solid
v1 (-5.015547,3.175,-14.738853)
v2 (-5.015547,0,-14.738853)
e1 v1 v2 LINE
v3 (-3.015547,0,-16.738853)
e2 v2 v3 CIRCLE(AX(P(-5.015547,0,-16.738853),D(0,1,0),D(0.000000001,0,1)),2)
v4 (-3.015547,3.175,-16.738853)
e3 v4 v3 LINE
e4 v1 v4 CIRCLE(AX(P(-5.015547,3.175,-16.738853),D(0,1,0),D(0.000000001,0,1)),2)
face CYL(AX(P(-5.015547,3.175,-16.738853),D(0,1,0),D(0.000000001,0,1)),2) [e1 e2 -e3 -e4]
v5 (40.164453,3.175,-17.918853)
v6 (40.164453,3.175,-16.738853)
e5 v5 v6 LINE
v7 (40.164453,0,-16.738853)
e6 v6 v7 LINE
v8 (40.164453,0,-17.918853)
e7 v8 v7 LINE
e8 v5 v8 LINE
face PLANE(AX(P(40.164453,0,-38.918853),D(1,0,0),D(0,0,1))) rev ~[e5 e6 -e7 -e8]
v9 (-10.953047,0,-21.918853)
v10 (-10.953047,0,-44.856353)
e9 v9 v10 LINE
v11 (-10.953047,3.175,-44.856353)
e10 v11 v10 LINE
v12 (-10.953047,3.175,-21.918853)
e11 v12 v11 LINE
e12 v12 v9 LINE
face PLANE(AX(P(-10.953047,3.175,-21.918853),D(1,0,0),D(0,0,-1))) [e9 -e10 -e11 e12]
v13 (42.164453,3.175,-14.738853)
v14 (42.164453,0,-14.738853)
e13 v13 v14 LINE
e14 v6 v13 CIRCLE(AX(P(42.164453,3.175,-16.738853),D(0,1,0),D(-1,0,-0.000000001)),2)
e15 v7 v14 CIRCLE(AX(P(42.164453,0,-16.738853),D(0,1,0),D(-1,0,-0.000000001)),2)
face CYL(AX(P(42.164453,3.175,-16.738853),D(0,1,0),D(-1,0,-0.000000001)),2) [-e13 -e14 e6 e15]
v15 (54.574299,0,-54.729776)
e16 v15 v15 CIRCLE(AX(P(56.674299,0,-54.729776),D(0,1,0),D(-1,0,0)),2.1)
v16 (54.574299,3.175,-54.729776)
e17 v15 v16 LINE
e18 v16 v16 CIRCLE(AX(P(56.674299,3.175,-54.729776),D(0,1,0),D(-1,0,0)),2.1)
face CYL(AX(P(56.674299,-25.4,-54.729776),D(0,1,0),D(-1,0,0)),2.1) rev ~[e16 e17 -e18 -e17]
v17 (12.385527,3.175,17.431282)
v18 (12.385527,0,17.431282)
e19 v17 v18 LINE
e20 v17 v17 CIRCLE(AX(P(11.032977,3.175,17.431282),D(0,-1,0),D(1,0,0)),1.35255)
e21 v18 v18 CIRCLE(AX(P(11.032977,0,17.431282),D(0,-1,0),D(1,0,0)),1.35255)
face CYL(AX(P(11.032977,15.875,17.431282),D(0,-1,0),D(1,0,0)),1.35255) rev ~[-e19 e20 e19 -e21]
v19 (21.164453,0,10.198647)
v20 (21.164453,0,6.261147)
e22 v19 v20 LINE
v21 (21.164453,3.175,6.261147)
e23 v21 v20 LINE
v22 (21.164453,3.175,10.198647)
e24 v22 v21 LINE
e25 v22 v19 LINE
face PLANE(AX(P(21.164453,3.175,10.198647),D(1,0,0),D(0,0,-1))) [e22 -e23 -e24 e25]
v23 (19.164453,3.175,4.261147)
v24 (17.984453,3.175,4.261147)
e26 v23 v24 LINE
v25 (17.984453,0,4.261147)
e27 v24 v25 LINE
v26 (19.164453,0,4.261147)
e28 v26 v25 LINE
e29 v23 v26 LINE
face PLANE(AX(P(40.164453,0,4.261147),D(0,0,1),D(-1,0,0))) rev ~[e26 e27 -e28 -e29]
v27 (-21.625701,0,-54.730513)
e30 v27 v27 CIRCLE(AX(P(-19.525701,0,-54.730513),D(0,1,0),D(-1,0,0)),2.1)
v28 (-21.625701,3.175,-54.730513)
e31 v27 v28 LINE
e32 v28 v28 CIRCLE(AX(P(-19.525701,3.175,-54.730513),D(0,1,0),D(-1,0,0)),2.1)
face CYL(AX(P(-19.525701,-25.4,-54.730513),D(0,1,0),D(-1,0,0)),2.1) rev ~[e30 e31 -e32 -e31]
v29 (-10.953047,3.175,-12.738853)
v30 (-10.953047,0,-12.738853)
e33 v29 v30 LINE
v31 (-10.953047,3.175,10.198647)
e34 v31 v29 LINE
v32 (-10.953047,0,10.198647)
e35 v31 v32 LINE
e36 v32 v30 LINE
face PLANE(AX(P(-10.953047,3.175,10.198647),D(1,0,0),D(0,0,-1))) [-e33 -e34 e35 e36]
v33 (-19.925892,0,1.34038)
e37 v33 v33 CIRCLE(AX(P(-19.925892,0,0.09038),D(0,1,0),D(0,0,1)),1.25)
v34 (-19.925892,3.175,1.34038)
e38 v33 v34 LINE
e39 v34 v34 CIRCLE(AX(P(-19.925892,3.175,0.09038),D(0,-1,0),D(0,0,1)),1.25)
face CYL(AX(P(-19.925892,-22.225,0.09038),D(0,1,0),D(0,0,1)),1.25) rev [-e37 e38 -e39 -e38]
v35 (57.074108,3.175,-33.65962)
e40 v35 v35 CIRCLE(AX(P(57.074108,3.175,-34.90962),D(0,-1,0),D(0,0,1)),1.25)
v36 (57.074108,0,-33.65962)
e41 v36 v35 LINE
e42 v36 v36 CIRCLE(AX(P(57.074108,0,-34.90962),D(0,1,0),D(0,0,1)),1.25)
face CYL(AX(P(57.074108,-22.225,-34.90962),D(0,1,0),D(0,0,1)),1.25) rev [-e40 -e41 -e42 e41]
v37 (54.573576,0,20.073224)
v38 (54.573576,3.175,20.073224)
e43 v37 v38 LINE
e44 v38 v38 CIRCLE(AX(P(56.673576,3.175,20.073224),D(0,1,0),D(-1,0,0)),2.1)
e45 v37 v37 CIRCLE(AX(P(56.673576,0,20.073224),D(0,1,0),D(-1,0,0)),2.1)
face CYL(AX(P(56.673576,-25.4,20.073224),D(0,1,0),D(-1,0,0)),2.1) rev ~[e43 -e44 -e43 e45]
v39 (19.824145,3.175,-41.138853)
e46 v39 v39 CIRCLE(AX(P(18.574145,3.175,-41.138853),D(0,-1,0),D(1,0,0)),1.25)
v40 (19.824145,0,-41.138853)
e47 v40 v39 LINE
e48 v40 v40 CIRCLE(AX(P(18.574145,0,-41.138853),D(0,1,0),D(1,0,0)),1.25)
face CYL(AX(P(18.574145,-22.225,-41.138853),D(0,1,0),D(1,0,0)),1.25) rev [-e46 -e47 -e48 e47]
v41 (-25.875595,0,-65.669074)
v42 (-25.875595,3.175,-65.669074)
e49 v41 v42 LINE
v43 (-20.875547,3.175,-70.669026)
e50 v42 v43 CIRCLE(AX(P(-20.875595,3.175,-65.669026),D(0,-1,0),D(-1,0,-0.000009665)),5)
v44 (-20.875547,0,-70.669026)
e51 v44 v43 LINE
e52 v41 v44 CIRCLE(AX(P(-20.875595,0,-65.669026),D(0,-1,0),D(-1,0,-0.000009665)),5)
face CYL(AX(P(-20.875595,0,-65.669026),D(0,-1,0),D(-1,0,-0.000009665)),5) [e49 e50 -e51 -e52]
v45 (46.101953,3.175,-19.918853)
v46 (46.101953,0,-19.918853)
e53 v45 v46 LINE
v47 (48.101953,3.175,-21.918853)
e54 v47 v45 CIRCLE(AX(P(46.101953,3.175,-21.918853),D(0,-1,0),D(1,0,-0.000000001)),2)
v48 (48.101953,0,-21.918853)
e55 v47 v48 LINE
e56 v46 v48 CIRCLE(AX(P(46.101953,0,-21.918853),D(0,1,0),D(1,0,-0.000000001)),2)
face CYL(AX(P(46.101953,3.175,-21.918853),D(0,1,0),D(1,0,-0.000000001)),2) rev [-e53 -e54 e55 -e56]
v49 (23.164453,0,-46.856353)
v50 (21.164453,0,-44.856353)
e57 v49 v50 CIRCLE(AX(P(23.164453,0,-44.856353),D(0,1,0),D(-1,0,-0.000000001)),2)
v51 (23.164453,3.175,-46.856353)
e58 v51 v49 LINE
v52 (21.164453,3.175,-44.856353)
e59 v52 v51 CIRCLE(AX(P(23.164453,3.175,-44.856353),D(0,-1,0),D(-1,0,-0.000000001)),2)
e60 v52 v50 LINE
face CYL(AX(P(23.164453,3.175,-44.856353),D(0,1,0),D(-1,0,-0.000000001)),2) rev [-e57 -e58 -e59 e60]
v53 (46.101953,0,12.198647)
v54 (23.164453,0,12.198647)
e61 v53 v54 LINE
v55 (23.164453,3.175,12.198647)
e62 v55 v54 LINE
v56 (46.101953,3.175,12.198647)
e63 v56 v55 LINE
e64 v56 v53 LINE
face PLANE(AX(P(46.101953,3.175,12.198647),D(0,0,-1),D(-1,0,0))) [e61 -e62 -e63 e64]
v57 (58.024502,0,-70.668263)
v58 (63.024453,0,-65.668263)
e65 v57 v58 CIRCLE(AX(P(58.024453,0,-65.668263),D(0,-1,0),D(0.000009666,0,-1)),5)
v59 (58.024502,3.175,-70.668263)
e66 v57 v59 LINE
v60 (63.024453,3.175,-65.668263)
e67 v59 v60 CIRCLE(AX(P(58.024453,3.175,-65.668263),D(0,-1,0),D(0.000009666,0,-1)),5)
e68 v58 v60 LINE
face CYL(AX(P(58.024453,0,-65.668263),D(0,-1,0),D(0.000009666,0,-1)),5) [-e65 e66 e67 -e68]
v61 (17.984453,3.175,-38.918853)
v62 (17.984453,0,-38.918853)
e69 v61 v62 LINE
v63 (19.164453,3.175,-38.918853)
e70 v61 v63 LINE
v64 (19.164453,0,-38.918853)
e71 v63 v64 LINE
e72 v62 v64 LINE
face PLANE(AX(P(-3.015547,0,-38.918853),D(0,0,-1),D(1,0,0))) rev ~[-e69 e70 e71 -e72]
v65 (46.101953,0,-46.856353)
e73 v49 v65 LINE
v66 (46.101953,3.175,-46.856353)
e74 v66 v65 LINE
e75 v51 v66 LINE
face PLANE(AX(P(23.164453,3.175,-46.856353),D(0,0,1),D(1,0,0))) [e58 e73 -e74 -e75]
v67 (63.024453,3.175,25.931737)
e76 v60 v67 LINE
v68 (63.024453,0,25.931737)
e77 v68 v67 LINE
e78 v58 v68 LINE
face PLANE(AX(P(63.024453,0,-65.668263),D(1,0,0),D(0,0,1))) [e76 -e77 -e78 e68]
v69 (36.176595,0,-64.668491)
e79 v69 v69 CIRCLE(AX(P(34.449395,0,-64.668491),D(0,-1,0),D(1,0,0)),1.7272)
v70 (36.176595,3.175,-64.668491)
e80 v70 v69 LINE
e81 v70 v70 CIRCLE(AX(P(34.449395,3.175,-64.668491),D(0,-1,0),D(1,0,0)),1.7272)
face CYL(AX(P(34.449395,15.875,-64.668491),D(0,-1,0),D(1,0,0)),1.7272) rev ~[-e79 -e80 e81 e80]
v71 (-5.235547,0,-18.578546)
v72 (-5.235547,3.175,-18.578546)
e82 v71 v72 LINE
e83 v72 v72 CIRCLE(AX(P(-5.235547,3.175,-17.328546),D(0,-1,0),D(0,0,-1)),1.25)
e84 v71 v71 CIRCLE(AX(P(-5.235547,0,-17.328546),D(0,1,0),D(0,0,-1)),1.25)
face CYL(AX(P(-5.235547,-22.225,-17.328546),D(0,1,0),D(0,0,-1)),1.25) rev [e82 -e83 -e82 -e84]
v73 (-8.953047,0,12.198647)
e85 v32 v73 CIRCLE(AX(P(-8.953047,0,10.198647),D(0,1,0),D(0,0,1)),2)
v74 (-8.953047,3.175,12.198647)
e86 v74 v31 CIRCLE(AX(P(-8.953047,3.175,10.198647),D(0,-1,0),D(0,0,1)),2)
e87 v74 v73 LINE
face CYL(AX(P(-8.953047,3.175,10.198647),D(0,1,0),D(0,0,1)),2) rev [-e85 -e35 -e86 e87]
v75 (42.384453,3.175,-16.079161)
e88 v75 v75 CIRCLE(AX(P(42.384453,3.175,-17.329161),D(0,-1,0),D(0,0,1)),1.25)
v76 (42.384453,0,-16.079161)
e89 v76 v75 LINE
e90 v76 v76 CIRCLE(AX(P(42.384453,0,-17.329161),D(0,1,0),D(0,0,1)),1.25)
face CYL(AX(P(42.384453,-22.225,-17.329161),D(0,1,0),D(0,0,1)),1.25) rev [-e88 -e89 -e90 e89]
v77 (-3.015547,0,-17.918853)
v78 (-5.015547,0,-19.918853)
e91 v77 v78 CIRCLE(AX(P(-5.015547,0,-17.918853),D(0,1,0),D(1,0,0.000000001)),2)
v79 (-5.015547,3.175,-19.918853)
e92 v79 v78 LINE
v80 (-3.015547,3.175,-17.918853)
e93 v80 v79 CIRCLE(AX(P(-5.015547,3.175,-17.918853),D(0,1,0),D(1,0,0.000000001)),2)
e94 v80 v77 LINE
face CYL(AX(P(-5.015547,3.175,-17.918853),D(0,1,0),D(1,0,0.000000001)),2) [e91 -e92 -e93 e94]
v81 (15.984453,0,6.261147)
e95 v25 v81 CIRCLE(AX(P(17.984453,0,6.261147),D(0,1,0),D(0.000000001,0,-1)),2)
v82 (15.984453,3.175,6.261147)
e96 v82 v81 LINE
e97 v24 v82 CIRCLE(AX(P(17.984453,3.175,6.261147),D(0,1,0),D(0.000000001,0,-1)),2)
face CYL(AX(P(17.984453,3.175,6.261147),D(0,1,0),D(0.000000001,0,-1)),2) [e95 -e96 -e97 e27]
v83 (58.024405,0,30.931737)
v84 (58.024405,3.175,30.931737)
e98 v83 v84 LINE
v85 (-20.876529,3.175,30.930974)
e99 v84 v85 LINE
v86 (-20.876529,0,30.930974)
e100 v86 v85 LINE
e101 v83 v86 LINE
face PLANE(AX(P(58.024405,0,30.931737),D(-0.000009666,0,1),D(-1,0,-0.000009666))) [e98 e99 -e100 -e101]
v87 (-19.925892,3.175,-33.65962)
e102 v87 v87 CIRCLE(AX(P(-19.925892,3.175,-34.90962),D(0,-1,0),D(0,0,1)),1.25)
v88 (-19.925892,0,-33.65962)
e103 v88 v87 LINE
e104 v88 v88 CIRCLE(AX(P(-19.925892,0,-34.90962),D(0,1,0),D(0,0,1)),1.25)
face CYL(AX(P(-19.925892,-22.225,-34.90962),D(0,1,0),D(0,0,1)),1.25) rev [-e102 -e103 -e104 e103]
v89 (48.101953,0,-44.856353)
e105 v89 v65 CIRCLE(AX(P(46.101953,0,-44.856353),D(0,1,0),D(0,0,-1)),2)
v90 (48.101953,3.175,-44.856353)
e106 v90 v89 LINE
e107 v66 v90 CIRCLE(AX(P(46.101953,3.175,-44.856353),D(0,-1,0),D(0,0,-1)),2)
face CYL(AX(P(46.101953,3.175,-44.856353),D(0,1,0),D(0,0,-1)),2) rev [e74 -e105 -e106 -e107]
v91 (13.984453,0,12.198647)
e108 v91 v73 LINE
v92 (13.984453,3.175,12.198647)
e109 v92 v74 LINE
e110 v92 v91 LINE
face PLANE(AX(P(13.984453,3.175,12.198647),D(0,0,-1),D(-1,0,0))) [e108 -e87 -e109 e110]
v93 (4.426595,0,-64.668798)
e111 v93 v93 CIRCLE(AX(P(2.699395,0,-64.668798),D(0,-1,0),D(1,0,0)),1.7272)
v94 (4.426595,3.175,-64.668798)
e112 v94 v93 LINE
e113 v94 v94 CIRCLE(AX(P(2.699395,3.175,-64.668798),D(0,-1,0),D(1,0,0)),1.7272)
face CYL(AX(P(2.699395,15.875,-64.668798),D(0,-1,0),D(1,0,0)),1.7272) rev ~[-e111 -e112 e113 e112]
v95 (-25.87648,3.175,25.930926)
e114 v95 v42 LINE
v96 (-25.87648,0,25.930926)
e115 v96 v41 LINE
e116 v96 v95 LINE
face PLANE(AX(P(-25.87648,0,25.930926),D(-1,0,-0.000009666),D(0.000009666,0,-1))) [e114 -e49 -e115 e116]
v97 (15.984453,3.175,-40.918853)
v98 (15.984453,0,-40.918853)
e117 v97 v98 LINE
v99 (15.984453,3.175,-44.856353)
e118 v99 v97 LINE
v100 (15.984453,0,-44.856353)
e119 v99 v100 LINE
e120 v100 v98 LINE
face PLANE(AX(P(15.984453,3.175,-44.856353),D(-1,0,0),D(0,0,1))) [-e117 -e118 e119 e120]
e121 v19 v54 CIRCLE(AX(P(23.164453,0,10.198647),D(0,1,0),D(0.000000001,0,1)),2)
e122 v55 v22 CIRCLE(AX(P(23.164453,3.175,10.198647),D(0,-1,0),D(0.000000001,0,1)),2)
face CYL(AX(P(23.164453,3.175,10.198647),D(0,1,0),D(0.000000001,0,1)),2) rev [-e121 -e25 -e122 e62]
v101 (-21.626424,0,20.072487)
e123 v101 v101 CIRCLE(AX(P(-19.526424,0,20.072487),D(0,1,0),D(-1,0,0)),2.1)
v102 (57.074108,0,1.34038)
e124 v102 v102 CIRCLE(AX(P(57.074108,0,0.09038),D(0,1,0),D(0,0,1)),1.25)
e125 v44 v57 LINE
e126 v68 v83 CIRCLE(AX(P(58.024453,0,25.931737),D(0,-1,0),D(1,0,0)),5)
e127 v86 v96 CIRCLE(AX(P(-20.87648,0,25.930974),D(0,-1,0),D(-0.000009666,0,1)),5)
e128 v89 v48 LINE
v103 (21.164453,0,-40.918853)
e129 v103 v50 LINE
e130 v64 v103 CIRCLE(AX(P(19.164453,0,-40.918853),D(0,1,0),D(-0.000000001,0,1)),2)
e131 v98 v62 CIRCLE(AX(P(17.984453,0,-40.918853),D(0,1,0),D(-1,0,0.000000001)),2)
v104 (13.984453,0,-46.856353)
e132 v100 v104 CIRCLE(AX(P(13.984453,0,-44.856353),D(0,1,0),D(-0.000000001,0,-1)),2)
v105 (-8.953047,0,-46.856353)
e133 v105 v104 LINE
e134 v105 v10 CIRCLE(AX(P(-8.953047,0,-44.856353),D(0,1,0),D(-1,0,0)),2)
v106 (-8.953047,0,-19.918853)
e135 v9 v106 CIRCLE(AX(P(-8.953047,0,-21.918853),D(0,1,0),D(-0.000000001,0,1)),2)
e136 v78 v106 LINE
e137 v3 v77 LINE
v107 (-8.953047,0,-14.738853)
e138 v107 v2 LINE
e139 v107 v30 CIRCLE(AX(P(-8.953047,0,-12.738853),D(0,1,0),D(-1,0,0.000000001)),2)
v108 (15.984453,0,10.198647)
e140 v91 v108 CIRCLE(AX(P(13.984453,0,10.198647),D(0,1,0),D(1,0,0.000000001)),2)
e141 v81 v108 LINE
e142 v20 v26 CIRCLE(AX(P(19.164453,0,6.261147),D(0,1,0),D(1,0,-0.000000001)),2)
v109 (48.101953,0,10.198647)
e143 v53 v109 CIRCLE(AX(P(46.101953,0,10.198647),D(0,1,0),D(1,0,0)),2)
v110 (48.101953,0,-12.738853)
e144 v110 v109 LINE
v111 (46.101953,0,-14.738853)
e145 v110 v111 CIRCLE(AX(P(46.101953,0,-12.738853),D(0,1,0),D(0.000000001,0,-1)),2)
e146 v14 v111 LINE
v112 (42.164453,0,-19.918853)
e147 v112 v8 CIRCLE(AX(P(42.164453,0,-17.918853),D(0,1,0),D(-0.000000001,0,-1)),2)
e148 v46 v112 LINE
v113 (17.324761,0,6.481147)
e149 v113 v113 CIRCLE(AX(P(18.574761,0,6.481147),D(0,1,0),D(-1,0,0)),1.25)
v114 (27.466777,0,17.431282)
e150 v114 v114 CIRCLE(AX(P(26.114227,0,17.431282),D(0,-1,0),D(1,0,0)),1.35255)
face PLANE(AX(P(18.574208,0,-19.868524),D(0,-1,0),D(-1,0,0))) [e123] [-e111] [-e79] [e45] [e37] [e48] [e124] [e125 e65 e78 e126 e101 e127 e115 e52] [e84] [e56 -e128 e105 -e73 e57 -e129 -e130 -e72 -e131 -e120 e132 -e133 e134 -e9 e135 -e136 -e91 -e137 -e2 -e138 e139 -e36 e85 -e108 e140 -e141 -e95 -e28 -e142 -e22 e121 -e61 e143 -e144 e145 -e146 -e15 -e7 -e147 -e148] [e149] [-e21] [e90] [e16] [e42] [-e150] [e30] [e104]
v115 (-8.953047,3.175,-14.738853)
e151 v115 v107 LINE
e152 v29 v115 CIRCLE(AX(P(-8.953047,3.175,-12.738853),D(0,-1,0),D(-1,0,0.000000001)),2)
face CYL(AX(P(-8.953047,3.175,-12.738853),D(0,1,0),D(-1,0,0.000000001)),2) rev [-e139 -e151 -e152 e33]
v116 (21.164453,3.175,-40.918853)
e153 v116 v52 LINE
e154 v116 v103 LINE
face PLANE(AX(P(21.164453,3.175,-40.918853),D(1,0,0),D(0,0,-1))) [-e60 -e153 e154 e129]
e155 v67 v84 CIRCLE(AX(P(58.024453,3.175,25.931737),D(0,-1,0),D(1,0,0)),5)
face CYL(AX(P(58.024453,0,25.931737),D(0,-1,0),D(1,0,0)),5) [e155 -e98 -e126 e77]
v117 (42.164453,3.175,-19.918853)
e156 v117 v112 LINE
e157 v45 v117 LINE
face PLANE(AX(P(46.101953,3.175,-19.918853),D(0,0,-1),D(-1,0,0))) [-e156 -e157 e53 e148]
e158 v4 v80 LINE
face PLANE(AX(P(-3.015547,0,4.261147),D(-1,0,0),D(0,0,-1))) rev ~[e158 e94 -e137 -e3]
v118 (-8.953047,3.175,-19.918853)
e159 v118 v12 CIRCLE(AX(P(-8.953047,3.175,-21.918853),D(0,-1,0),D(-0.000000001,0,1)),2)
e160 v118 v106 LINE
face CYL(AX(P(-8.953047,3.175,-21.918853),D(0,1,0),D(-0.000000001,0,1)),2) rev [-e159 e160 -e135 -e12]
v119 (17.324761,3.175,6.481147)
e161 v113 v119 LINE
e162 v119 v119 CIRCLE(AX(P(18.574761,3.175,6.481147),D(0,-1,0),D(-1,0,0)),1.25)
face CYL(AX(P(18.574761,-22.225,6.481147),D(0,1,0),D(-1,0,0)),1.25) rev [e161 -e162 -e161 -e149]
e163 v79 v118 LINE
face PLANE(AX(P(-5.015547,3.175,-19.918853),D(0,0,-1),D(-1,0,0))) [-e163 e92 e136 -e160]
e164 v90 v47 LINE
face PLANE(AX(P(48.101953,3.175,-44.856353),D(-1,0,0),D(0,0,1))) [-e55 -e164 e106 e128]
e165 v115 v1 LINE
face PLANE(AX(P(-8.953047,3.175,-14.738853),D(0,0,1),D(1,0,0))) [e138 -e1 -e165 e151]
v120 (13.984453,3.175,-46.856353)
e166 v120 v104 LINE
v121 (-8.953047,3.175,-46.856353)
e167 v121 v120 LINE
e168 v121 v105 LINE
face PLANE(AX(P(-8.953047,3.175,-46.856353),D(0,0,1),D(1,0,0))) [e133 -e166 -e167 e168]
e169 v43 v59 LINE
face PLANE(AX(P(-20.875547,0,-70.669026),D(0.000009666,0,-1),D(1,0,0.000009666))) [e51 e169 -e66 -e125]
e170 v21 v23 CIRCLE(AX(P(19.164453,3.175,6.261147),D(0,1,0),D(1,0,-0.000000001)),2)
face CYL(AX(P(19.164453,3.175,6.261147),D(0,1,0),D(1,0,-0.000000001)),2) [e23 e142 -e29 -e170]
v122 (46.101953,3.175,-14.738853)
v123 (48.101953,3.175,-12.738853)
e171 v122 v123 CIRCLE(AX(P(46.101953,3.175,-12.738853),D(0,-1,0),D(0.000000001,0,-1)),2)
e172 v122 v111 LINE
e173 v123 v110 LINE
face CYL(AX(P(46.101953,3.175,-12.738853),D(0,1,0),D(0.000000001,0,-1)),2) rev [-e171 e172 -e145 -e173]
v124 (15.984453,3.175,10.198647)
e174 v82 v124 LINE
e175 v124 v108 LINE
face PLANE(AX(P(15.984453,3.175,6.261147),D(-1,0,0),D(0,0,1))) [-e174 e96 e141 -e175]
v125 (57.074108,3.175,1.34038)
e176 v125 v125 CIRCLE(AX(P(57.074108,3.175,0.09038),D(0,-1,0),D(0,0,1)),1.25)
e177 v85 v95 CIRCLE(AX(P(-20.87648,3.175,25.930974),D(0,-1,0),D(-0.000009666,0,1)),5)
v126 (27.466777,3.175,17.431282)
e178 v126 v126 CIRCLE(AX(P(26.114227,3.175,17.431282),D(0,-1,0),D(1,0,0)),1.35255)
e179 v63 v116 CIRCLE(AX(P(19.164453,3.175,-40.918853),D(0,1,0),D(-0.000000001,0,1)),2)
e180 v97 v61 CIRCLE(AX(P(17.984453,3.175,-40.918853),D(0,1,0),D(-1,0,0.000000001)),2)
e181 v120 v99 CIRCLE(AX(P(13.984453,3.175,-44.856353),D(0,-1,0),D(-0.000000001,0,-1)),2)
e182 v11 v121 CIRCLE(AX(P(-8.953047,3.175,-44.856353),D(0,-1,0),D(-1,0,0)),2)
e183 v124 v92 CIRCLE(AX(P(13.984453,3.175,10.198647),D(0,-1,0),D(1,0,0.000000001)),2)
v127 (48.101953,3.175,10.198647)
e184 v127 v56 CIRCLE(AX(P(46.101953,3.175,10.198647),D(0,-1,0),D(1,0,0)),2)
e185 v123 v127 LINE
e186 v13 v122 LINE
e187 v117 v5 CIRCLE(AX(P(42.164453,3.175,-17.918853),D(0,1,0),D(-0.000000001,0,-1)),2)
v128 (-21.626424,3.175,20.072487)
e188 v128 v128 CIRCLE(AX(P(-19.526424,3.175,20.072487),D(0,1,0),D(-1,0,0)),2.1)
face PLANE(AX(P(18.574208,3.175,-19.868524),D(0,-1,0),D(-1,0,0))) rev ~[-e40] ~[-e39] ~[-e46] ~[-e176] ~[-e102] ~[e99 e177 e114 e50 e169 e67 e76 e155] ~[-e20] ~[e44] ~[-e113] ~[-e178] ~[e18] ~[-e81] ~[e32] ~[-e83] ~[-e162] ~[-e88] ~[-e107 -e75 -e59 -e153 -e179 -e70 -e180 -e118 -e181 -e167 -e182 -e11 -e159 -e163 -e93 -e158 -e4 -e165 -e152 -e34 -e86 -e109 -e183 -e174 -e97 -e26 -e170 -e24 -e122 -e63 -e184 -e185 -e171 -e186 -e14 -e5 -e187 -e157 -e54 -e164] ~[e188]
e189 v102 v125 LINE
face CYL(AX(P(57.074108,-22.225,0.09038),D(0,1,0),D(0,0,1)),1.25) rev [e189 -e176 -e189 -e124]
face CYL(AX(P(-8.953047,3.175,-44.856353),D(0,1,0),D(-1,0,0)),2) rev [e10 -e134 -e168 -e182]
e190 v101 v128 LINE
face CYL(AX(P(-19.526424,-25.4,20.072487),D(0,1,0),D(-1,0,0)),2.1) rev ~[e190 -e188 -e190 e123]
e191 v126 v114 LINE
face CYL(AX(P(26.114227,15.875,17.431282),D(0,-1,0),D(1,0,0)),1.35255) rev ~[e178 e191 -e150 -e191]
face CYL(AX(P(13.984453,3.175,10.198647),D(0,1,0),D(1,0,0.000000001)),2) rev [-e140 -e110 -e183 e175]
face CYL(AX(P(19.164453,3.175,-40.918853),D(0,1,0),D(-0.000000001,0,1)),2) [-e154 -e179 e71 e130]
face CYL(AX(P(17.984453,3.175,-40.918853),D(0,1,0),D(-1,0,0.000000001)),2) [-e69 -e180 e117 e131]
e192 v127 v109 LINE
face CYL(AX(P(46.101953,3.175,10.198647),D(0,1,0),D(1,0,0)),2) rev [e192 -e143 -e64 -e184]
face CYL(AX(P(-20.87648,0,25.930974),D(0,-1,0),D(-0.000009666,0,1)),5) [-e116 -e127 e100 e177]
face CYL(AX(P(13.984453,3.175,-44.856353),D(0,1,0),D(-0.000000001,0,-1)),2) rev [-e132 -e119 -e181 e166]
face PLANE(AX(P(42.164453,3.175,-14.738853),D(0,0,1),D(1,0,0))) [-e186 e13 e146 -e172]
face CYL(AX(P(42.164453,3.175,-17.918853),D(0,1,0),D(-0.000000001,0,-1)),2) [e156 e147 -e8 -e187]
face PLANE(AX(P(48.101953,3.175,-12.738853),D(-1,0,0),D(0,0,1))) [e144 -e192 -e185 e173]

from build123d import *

# Parameters (mm, degrees)
ALUMINUM_PLATE_DEPTH            = 3.175
LPATTERN1_COUNT                 = 2
LPATTERN1_PITCH                 = 35
LPATTERN1_COUNT_DIR2            = 2
LPATTERN1_PITCH_DIR2            = 77
CIRPATTERN1_COUNT               = 4
TAP_DRILL_FOR_M5X0_8_TAP1_D     = 4.2
TAP_DRILL_FOR_M5X0_8_TAP1_DEPTH = 25.4
TAP_DRILL_FOR_M5X0_8_TAP1_TIP   = 1.2618073
TAP_DRILL_FOR_8_32_TAP1_D       = 3.4544
TAP_DRILL_FOR_8_32_TAP1_DEPTH   = 12.7
TAP_DRILL_FOR_8_32_TAP1_TIP     = 1.037806461
CUT_EXTRUDE1_REACH              = 96.743
CIRPATTERN3_COUNT               = 4
TAP_DRILL_FOR_6_32_TAP1_D       = 2.7051
TAP_DRILL_FOR_6_32_TAP1_DEPTH   = 12.7
TAP_DRILL_FOR_6_32_TAP1_TIP     = 0.81269403


with BuildPart() as part:
    # Sketch2 → Aluminum plate (new body)
    with BuildSketch(Plane(origin=(0, 0, 0), x_dir=(1, 0, 0), z_dir=(0, 1, 0))):
        with BuildLine():
            Line((58.024404898, -30.931736602), (-20.876528813, -30.930973959))
            ThreePointArc((-20.876528813, -30.930973959), (-24.412048563, -29.466473691), (-25.876480484, -25.93092563))
            Line((-25.876480484, -25.93092563), (-25.875595093, 65.669074365))
            ThreePointArc((-25.875595093, 65.669074365), (-24.411094826, 69.204594116), (-20.875546764, 70.669026036))
            Line((-20.875546764, 70.669026036), (58.024501561, 70.668263401))
            ThreePointArc((58.024501561, 70.668263401), (61.560004224, 69.20378022), (63.024453231, 65.668263401))
            Line((63.024453231, 65.668263401), (63.024453227, -25.931736603))
            ThreePointArc((63.024453227, -25.931736603), (61.559970046, -29.467287596), (58.024404898, -30.931736602))
        make_face()
        Polygon((40.164453228, -4.2611466), (-3.015546772, -4.261146598), (-3.01554677, 38.918853402), (40.16445323, 38.9188534), align=None, mode=Mode.SUBTRACT)
    extrude(amount=ALUMINUM_PLATE_DEPTH)

    # Sketch12 → Tap Drill for M3x0.5 Tap1 (revolve, cut)
    with BuildSketch(Plane(origin=(-19.925892409, 3.175, -34.909619628), x_dir=(0, 0, 1), z_dir=(1, 0, 0))):
        Polygon((0, 0), (0, 26.151075774), (1.25, 25.4), (1.25, 0), align=None)
    tap_drill_for_m3x0_5_tap1 = revolve(axis=Axis((-19.925892409, 9.525, -34.909619628), (0, -1, 0)), mode=Mode.SUBTRACT)

    # LPattern1: Tap Drill for M3x0.5 Tap1 2 × 2
    with Locations(*[(j * LPATTERN1_PITCH_DIR2, 0, i * LPATTERN1_PITCH) for i in range(LPATTERN1_COUNT) for j in range(LPATTERN1_COUNT_DIR2) if (i, j) != (0, 0)]):
        add(tap_drill_for_m3x0_5_tap1, mode=Mode.SUBTRACT)

    # Sketch14 → Tap Drill for M3x0.5 Tap2 (revolve, cut)
    with BuildSketch(Plane(origin=(42.384453228, 3.175, -17.329161252), x_dir=(0, 0, 1), z_dir=(1, 0, 0))):
        Polygon((0, 0), (0, 26.151075774), (1.25, 25.4), (1.25, 0), align=None)
    tap_drill_for_m3x0_5_tap2 = revolve(axis=Axis((42.384453228, 9.525, -17.329161252), (0, -1, 0)), mode=Mode.SUBTRACT)

    # CirPattern1: Tap Drill for M3x0.5 Tap2 ×4 about axis
    cirpattern1_axis = Axis((18.574453229, 62.671328425, -17.328853401), (0, -1, 0))
    for i in range(1, CIRPATTERN1_COUNT):
        add(tap_drill_for_m3x0_5_tap2.rotate(cirpattern1_axis, i * 360 / CIRPATTERN1_COUNT), mode=Mode.SUBTRACT)

    # Tap Drill for M5x0.8 Tap1
    with Locations(Plane.XZ):
        with Locations((-19.525700823, -54.730512991), (56.674299173, -54.729776455), (56.67357614, 20.073223545), (-19.526423857, 20.072487009)):
            Hole(TAP_DRILL_FOR_M5X0_8_TAP1_D / 2, depth=TAP_DRILL_FOR_M5X0_8_TAP1_DEPTH)
            with Locations((0, 0, -(TAP_DRILL_FOR_M5X0_8_TAP1_DEPTH + TAP_DRILL_FOR_M5X0_8_TAP1_TIP / 2))):  # 118° drill point
                Cone(0, TAP_DRILL_FOR_M5X0_8_TAP1_D / 2, TAP_DRILL_FOR_M5X0_8_TAP1_TIP, mode=Mode.SUBTRACT)

    # Tap Drill for #8-32 Tap1
    with Locations(Plane(origin=(0, 3.175, 0), x_dir=(-1, 0, 0), z_dir=(0, 1, 0))):
        with Locations((-2.699395239, -64.668798164), (-34.449395238, -64.668491274)):
            Hole(TAP_DRILL_FOR_8_32_TAP1_D / 2, depth=TAP_DRILL_FOR_8_32_TAP1_DEPTH)
            with Locations((0, 0, -(TAP_DRILL_FOR_8_32_TAP1_DEPTH + TAP_DRILL_FOR_8_32_TAP1_TIP / 2))):  # 118° drill point
                Cone(0, TAP_DRILL_FOR_8_32_TAP1_D / 2, TAP_DRILL_FOR_8_32_TAP1_TIP, mode=Mode.SUBTRACT)

    # Sketch24 → Cut-Extrude1 (cut, up to next)
    with BuildSketch(Plane(origin=(0, 3.175, 0), x_dir=(1, 0, 0), z_dir=(0, 1, 0)), mode=Mode.PRIVATE) as cut_extrude1_sk1:
        with BuildLine():
            Line((21.16445323, 40.9188534), (21.16445323, 44.8563534))
            ThreePointArc((21.16445323, 44.8563534), (21.750239668, 46.270566962), (23.16445323, 46.8563534))
            Line((23.16445323, 46.8563534), (46.101953228, 46.8563534))
            ThreePointArc((46.101953228, 46.8563534), (47.516166791, 46.270566962), (48.101953228, 44.8563534))
            Line((48.101953228, 44.8563534), (48.101953228, 21.9188534))
            ThreePointArc((48.101953228, 21.9188534), (47.516166791, 20.504639837), (46.101953228, 19.9188534))
            Line((46.101953228, 19.9188534), (42.164453228, 19.9188534))
            ThreePointArc((42.164453228, 19.9188534), (40.750239666, 19.333066962), (40.164453228, 17.9188534))
            Line((40.164453228, 17.9188534), (40.164453228, 17.3288534))
            Line((40.164453228, 17.3288534), (18.57445323, 38.9188534))
            Line((18.57445323, 38.9188534), (19.16445323, 38.9188534))
            ThreePointArc((19.16445323, 38.9188534), (20.578666793, 39.504639837), (21.16445323, 40.9188534))
        make_face()
    cut_extrude1_tool1 = extrude(cut_extrude1_sk1.sketch, amount=-CUT_EXTRUDE1_REACH, mode=Mode.PRIVATE) & part.part
    cut_extrude1 = cut_extrude1_tool1.solids().sort_by_distance((36.353241, 3.175, -35.107642))[0]
    add(cut_extrude1, mode=Mode.SUBTRACT)

    # CirPattern3: Cut-Extrude1 ×4 about axis
    cirpattern3_axis = Axis((18.574453229, 62.671328425, -17.328853401), (0, -1, 0))
    for i in range(1, CIRPATTERN3_COUNT):
        add(cut_extrude1.rotate(cirpattern3_axis, i * 360 / CIRPATTERN3_COUNT), mode=Mode.SUBTRACT)

    # Tap Drill for #6-32 Tap1
    with Locations(Plane(origin=(0, 3.175, 0), x_dir=(-1, 0, 0), z_dir=(0, 1, 0))):
        with Locations((-11.032976674, 17.431282391), (-26.114226674, 17.431282391)):
            Hole(TAP_DRILL_FOR_6_32_TAP1_D / 2, depth=TAP_DRILL_FOR_6_32_TAP1_DEPTH)
            with Locations((0, 0, -(TAP_DRILL_FOR_6_32_TAP1_DEPTH + TAP_DRILL_FOR_6_32_TAP1_TIP / 2))):  # 118° drill point
                Cone(0, TAP_DRILL_FOR_6_32_TAP1_D / 2, TAP_DRILL_FOR_6_32_TAP1_TIP, mode=Mode.SUBTRACT)


solid = part.part
